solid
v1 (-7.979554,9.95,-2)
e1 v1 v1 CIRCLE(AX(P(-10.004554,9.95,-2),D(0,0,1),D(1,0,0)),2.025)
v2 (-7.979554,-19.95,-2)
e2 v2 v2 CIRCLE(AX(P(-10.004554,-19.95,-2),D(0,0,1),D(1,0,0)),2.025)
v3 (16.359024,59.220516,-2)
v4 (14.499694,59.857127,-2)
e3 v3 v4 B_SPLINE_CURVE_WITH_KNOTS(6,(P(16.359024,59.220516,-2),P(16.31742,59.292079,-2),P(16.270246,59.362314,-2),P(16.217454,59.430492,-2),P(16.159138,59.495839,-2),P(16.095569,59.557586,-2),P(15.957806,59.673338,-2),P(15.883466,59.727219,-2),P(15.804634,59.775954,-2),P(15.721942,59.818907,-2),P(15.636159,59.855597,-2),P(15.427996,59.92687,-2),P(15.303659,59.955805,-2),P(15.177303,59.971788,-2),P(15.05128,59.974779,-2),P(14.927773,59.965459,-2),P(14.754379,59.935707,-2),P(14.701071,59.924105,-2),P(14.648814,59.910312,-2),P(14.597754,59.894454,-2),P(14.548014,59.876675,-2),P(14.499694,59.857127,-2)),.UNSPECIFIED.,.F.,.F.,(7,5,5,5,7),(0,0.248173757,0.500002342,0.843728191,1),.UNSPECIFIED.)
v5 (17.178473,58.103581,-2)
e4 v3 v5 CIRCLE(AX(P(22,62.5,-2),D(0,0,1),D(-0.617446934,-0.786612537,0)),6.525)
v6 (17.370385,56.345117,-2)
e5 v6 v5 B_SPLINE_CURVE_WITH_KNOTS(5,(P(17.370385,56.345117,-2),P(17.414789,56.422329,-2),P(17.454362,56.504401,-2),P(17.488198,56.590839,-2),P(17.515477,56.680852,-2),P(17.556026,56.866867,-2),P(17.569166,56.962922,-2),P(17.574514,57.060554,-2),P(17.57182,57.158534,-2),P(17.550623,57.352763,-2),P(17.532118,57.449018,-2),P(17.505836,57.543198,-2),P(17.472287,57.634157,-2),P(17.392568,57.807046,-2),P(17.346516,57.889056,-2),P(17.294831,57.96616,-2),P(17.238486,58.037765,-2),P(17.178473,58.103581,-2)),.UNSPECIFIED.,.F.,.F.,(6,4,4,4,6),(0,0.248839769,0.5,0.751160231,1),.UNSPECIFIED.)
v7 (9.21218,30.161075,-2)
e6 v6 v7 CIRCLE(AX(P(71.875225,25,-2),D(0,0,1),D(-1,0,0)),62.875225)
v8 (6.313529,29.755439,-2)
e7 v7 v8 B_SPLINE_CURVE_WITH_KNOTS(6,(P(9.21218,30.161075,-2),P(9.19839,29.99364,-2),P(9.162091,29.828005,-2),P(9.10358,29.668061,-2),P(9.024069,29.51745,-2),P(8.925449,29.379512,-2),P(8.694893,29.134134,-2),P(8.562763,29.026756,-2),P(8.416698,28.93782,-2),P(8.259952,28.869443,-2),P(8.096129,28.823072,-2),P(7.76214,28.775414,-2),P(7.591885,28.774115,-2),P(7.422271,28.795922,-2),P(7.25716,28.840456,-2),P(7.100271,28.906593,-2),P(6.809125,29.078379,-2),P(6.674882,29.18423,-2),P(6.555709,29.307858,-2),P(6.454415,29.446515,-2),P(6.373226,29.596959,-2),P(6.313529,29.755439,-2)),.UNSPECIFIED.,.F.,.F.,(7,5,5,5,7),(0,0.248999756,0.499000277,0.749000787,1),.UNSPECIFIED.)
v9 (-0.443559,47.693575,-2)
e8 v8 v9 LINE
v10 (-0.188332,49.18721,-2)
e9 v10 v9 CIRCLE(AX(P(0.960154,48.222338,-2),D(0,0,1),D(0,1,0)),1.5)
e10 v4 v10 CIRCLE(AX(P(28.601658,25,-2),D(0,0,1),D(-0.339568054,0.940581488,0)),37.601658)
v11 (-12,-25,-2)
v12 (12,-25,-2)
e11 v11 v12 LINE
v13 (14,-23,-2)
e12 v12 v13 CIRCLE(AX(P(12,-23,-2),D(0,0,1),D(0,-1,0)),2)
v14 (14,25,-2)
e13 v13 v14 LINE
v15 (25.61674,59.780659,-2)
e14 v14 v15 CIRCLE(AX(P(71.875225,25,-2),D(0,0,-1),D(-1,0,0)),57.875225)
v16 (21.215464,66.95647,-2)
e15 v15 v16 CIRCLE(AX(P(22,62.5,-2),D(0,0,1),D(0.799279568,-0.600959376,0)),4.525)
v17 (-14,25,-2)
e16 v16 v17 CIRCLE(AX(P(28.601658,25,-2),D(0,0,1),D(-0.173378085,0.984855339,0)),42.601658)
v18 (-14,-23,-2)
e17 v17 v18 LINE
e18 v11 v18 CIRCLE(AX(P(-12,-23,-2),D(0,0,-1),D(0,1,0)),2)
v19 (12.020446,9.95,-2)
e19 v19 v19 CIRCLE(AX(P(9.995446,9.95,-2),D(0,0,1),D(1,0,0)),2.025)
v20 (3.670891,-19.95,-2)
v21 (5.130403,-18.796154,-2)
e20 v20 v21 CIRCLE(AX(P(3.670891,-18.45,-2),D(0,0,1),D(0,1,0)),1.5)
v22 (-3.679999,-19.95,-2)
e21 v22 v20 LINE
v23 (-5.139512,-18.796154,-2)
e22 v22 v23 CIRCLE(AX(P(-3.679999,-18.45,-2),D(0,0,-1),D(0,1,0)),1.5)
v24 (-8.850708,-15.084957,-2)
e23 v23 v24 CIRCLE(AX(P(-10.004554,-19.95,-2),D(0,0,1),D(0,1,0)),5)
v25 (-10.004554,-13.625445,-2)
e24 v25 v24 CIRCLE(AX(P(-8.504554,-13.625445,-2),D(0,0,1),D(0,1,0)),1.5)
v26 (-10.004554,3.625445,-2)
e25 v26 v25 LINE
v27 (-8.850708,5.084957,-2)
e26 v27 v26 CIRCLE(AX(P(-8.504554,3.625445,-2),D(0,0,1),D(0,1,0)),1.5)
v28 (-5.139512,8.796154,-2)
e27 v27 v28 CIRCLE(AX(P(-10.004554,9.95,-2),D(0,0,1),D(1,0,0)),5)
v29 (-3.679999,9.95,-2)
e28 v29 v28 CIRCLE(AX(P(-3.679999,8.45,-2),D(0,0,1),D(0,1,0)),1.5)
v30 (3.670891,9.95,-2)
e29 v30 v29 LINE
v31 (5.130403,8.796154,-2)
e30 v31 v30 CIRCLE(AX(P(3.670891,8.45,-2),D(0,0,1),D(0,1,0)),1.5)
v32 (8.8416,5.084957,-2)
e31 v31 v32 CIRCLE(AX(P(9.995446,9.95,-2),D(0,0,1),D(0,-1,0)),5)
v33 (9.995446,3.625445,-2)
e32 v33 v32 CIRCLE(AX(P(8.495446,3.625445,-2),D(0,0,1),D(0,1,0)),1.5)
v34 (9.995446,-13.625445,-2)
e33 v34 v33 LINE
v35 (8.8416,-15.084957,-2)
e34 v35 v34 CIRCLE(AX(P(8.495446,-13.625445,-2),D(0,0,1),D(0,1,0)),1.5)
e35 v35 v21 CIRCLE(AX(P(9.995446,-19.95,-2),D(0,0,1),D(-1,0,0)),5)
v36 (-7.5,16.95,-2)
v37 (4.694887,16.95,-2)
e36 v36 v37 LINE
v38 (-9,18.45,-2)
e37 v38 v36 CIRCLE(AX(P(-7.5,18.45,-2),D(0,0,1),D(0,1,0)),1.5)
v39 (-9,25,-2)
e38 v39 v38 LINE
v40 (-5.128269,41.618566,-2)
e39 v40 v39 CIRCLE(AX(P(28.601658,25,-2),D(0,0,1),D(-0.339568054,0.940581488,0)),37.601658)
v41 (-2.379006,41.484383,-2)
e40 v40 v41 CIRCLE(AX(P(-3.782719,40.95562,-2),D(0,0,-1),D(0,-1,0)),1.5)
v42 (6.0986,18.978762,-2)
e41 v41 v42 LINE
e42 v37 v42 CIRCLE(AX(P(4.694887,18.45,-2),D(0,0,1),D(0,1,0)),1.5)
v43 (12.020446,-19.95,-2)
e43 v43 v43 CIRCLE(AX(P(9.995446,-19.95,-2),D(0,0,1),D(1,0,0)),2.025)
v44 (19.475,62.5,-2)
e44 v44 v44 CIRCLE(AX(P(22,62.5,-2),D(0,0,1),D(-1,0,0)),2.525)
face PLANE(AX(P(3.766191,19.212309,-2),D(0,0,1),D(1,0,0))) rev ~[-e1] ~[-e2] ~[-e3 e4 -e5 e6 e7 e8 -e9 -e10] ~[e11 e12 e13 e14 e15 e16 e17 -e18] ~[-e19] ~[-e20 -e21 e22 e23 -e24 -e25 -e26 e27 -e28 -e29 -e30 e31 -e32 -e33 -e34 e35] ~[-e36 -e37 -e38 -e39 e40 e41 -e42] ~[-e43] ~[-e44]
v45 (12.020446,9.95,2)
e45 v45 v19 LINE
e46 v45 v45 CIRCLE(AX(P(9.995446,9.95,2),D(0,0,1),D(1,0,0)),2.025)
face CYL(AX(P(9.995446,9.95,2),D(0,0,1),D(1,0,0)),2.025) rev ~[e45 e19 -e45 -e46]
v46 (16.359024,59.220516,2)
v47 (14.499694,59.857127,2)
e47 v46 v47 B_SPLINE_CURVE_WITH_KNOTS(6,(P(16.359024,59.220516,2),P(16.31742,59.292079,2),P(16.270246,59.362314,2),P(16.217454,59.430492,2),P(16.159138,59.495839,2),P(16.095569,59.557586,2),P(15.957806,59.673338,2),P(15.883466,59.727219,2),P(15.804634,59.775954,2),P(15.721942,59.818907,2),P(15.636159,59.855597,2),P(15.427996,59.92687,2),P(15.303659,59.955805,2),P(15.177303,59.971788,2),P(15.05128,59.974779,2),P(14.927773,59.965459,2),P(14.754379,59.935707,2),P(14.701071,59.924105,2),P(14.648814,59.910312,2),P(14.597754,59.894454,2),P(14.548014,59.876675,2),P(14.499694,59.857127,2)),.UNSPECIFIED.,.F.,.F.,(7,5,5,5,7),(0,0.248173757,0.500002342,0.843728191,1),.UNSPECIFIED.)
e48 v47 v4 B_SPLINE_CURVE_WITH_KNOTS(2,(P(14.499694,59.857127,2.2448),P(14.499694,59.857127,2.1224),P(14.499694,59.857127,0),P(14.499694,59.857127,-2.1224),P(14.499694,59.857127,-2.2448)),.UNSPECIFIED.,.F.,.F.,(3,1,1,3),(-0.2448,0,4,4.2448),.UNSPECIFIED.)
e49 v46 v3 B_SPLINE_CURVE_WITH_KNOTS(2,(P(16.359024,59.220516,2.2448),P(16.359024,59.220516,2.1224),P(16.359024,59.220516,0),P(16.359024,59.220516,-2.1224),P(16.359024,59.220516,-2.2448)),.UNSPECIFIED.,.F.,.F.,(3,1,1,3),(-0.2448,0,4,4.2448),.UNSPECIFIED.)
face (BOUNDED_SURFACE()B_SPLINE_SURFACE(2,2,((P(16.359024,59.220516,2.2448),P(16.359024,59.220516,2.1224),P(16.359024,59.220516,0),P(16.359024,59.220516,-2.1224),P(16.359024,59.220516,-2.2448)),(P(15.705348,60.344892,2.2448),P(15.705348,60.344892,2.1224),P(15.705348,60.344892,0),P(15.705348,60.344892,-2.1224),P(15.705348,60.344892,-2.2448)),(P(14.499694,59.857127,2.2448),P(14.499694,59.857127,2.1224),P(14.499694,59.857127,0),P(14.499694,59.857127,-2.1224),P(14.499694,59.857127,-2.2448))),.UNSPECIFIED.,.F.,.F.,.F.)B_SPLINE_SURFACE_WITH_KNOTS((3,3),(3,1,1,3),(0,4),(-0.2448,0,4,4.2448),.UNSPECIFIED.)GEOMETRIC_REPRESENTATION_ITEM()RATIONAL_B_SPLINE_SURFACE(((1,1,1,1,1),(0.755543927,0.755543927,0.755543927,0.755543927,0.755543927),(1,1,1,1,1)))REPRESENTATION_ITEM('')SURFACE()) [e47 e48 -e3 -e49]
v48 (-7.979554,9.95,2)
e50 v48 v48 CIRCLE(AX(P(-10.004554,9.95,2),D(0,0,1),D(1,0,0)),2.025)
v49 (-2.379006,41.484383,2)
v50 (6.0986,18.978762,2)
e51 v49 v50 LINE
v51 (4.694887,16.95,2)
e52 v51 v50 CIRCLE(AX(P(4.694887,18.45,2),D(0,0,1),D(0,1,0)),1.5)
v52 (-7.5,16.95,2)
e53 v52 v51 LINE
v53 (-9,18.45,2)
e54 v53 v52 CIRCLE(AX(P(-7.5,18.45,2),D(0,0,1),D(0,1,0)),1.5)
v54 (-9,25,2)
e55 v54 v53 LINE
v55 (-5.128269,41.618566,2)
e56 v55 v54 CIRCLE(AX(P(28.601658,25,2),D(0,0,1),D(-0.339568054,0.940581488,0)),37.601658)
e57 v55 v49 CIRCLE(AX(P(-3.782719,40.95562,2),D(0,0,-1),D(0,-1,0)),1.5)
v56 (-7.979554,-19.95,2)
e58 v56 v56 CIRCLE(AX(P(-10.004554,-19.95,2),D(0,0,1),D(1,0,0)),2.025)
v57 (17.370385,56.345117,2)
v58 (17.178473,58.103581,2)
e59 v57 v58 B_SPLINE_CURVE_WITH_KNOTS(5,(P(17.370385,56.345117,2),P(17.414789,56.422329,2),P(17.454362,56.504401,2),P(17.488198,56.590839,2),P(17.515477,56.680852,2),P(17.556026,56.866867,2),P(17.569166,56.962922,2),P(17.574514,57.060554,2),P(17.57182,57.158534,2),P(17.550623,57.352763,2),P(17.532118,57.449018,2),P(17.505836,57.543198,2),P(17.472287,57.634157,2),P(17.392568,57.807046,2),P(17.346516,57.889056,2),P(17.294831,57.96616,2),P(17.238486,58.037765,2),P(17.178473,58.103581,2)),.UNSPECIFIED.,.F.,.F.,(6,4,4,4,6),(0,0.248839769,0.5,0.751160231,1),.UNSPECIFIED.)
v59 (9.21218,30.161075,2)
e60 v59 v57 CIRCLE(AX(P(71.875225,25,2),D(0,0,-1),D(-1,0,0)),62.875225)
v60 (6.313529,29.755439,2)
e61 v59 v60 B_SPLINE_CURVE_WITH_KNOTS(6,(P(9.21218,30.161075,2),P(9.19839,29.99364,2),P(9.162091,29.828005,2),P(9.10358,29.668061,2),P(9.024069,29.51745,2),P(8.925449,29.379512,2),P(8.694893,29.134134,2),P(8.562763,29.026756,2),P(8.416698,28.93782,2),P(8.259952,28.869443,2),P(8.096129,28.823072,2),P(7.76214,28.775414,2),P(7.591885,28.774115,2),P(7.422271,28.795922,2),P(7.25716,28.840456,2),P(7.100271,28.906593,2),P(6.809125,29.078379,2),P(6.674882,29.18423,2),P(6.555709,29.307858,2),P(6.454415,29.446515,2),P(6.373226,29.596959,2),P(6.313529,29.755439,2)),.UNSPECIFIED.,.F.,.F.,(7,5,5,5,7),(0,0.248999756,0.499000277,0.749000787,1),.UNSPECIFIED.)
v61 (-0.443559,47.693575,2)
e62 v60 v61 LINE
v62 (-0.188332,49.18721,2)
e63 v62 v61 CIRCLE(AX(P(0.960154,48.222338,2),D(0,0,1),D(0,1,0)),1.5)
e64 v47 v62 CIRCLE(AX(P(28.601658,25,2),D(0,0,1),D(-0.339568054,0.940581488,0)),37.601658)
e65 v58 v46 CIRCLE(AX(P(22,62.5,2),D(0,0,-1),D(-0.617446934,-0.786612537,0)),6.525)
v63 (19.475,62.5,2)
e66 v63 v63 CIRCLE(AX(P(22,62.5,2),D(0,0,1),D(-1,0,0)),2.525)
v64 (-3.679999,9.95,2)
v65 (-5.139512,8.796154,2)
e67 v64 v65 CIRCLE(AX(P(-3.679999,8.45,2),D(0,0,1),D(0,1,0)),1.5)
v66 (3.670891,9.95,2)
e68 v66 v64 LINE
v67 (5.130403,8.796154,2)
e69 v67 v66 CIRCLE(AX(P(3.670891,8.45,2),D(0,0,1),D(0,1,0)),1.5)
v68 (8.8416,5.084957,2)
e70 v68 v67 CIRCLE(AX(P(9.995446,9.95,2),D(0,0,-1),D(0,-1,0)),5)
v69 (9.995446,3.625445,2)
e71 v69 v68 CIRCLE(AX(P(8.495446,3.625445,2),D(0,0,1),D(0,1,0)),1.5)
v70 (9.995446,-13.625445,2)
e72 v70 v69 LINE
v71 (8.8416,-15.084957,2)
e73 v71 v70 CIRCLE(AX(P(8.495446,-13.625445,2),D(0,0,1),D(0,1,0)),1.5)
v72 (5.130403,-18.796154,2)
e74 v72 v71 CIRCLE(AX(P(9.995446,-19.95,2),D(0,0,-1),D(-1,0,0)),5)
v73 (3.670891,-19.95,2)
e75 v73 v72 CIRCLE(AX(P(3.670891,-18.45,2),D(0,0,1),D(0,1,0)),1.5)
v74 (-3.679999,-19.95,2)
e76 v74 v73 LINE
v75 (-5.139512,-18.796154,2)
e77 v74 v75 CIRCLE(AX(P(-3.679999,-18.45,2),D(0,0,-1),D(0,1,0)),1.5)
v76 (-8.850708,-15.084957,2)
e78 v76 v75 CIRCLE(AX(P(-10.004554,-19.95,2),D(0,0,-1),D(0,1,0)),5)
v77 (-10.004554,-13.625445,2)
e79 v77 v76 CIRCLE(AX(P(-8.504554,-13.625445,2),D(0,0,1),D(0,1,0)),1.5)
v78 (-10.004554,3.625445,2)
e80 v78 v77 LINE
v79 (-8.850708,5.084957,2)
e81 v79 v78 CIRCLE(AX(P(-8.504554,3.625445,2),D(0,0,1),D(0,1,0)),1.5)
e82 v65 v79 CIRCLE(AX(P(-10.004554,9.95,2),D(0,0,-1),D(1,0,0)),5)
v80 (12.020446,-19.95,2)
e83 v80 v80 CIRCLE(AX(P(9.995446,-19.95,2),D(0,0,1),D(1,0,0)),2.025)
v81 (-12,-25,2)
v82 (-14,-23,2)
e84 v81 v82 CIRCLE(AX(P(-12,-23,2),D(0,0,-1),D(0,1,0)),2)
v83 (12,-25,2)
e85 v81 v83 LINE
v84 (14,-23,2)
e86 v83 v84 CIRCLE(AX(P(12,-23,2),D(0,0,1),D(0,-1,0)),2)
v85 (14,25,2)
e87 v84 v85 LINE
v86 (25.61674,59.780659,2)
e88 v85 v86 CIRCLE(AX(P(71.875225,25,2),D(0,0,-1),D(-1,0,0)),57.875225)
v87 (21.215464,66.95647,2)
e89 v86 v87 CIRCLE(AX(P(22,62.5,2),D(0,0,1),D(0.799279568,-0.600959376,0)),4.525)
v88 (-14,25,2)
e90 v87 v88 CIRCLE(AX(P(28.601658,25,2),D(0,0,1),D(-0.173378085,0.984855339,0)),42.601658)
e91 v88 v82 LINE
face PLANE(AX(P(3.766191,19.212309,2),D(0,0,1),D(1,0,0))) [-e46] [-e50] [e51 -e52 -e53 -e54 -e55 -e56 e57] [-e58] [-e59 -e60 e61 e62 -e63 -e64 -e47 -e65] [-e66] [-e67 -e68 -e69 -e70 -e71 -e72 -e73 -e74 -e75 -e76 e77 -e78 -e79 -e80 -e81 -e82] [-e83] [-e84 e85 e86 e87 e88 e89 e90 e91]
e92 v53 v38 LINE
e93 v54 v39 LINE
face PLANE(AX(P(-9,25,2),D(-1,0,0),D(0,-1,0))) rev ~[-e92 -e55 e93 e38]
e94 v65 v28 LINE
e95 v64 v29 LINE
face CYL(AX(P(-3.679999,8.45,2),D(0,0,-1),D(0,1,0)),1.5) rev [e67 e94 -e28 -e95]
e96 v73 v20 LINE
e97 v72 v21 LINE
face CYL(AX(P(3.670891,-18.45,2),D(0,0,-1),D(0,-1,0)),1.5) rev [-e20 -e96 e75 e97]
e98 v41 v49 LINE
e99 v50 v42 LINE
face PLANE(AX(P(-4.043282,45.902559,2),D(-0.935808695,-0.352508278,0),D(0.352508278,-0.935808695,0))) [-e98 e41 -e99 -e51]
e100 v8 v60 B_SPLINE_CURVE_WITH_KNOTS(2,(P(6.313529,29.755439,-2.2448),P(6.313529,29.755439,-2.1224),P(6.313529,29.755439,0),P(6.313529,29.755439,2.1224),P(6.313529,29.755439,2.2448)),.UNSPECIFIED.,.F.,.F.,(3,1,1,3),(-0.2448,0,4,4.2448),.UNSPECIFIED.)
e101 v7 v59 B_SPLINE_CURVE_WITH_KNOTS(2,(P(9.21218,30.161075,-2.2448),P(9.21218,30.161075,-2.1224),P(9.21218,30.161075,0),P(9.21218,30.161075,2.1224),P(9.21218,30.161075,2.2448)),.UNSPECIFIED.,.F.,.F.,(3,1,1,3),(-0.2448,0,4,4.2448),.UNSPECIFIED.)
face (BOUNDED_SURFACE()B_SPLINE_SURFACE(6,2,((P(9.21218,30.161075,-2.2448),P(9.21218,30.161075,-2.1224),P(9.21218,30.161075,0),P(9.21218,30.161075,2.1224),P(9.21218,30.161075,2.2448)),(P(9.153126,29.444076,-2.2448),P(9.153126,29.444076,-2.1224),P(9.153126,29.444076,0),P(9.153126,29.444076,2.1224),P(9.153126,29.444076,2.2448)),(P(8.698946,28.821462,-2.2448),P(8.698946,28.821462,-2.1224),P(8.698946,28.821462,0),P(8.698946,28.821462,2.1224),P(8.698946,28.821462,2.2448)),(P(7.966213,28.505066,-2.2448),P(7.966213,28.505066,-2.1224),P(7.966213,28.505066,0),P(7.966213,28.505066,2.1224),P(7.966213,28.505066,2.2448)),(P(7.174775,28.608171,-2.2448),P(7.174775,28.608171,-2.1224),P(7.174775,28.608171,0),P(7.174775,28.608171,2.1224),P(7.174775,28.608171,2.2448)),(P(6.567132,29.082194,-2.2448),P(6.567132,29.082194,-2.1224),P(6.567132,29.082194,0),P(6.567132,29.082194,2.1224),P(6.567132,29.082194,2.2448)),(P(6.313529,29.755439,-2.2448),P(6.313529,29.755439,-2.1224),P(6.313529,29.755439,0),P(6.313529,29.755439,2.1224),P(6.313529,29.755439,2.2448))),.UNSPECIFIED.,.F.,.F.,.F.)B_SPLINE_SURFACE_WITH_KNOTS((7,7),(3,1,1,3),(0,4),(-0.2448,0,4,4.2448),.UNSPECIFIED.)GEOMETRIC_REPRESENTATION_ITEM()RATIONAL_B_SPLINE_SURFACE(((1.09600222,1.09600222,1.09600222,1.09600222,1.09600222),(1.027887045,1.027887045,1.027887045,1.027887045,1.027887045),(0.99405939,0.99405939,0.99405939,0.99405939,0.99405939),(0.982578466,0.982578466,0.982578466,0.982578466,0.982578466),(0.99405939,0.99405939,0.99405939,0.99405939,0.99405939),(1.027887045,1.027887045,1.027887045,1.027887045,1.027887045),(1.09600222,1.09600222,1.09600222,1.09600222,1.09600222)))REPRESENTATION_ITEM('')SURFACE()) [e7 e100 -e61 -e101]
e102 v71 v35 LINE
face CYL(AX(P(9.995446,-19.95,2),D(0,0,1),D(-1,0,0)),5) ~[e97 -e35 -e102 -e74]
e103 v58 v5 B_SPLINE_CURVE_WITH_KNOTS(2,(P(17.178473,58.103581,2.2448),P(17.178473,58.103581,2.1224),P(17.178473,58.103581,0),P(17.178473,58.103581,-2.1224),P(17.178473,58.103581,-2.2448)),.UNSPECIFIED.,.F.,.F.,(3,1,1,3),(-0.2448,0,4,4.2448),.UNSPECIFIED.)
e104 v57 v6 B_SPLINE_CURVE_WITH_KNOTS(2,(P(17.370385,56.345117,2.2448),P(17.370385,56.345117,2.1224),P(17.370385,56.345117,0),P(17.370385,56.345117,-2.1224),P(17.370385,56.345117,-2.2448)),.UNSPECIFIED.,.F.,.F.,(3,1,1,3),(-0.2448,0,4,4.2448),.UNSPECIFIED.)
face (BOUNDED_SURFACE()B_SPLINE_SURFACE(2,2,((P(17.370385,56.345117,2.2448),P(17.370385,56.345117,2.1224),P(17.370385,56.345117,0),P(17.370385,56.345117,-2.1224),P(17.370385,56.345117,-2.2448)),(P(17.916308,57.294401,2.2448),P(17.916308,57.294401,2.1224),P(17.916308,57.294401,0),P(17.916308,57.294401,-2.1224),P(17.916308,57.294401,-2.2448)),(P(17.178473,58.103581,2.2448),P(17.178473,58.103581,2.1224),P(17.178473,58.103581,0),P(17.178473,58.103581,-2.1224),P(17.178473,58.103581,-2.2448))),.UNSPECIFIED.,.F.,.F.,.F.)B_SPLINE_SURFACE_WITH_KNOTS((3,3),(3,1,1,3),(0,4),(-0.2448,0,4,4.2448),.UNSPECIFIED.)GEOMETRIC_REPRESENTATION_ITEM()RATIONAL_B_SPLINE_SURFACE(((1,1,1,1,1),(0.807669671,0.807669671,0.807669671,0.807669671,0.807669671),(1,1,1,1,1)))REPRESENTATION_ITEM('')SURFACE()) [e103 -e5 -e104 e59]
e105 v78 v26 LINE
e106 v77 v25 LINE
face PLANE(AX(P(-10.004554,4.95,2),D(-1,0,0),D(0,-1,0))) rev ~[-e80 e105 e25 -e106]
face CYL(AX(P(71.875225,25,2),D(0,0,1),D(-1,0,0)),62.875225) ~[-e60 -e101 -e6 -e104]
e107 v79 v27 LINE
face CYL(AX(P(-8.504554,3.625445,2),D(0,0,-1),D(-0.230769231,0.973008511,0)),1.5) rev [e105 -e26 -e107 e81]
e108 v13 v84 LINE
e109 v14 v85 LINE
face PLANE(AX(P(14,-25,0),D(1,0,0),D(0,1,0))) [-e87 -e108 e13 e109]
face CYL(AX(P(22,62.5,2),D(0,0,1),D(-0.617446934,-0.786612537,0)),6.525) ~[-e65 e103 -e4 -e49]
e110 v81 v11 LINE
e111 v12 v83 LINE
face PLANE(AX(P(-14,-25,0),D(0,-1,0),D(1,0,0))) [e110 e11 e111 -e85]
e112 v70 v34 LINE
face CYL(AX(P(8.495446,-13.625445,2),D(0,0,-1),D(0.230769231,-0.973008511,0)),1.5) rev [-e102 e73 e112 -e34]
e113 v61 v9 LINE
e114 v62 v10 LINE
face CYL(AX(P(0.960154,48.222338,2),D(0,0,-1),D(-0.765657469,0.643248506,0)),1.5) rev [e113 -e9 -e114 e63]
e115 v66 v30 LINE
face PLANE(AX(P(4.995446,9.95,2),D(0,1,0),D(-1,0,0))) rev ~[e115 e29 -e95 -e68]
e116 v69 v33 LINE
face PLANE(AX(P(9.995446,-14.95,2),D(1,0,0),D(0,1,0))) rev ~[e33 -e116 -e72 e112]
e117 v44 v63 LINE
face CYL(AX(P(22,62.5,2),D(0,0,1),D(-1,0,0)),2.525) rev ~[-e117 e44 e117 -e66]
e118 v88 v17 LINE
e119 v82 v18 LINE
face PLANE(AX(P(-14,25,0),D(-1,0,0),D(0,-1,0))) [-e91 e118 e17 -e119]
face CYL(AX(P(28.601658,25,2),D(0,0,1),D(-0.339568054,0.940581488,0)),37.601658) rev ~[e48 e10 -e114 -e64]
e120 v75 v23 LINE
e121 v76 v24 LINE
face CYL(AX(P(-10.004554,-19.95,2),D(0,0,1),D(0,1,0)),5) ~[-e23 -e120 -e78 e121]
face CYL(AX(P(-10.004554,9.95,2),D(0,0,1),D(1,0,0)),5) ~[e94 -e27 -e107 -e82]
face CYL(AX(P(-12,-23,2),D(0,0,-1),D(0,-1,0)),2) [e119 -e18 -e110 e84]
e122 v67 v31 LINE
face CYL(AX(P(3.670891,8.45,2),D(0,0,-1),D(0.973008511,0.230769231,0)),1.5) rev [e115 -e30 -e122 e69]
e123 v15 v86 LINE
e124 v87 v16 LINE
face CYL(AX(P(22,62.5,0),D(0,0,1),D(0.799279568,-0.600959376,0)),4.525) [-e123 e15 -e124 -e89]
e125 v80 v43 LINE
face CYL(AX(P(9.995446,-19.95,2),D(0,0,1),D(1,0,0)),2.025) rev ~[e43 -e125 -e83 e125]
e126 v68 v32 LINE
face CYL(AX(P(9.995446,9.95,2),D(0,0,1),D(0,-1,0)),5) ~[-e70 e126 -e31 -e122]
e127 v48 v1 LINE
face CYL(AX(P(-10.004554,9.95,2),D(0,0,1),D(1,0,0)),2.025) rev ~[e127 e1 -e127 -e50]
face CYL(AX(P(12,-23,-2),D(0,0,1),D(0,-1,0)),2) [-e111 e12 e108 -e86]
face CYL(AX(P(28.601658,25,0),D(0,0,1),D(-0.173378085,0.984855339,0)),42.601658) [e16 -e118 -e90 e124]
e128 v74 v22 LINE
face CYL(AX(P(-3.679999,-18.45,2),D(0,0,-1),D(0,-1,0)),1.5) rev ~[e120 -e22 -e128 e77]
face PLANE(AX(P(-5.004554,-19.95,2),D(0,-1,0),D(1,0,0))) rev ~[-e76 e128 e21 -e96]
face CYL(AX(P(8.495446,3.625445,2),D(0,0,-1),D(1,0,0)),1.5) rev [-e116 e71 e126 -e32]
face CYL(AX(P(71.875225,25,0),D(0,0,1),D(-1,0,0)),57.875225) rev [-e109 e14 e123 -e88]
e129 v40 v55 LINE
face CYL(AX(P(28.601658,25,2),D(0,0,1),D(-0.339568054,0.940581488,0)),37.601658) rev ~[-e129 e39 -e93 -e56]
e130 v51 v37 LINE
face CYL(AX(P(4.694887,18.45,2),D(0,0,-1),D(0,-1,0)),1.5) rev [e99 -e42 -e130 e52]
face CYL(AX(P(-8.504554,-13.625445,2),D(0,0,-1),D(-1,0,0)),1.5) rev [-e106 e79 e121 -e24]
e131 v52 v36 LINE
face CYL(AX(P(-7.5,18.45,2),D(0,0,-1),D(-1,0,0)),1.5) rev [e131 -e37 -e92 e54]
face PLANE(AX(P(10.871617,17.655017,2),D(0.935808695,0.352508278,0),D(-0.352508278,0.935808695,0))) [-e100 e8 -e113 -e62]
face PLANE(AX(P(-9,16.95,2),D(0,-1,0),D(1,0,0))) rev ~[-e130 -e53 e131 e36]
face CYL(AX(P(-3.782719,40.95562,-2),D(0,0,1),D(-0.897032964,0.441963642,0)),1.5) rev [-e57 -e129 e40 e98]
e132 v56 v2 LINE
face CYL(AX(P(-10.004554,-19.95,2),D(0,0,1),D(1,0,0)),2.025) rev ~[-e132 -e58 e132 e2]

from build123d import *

# Parameters (mm, degrees)
SKETCH_1_R          = 1.525
EXTRUDE_1_DEPTH     = 2
FILLET_1_R          = 2
SKETCH_3_R          = 2.525
CUT_EXTRUDE_1_DEPTH = 11
SKETCH_4_R          = 2.025
CUT_EXTRUDE_2_DEPTH = 20
CUT_EXTRUDE_3_DEPTH = 20
FILLET_2_R          = 1.5
CUT_EXTRUDE_4_DEPTH = 10
EXTRUDE_2_DEPTH     = 4
FILLET_3_R          = 1.5


with BuildPart() as part:
    # 草图1 → 凸台-拉伸1 (new, symmetric)
    with BuildSketch(Plane.XY):
        with BuildLine():
            Line((-14, -25), (14, -25))
            Line((14, -25), (14, 25))
            ThreePointArc((14, 25), (16.980954382, 43.334686237), (25.616740047, 59.780658824))
            ThreePointArc((25.616740047, 59.780658824), (25.857254614, 64.865842734), (21.215464165, 66.956470411))
            ThreePointArc((21.215464165, 66.956470411), (-4.029350016, 52.38829278), (-14, 25))
            Line((-14, 25), (-14, -25))
        make_face()
        with Locations((22, 62.5)):
            Circle(SKETCH_1_R, mode=Mode.SUBTRACT)
    extrude(amount=EXTRUDE_1_DEPTH, both=True)

    # 圆角1
    fillet_1_edges = [part.edges().sort_by_distance(p)[0] for p in [
        (14, -25, 0),
        (-14, -25, 0),
    ]]
    fillet(fillet_1_edges, radius=FILLET_1_R)

    # 草图3 → 切除-拉伸1 (cut, symmetric)
    with BuildSketch(Plane.XY.offset(2)):
        with Locations(Location((22, 62.5, 0), (0, 0, 180))):
            Circle(SKETCH_3_R)
    extrude(amount=CUT_EXTRUDE_1_DEPTH, both=True, mode=Mode.SUBTRACT)

    # 草图4 → 切除-拉伸2 (cut)
    with BuildSketch(Plane.XY.offset(2)):
        with Locations((-10.004554112, 9.95)):
            Circle(SKETCH_4_R)
        with Locations((9.995445888, 9.95)):
            Circle(SKETCH_4_R)
        with Locations((9.995445888, -19.95)):
            Circle(SKETCH_4_R)
        with Locations((-10.004554112, -19.95)):
            Circle(SKETCH_4_R)
    extrude(amount=-CUT_EXTRUDE_2_DEPTH, mode=Mode.SUBTRACT)

    # 草图5 → 切除-拉伸3 (cut)
    with BuildSketch(Plane.XY.offset(2)):
        with BuildLine():
            ThreePointArc((-10.004554112, -14.95), (-6.469020206, -16.414466094), (-5.004554112, -19.95))
            Line((-5.004554112, -19.95), (4.995445888, -19.95))
            ThreePointArc((4.995445888, -19.95), (6.459911982, -16.414466094), (9.995445888, -14.95))
            Line((9.995445888, -14.95), (9.995445888, 4.95))
            ThreePointArc((9.995445888, 4.95), (6.459911982, 6.414466094), (4.995445888, 9.95))
            Line((4.995445888, 9.95), (-5.004554112, 9.95))
            ThreePointArc((-5.004554112, 9.95), (-6.469020206, 6.414466094), (-10.004554112, 4.95))
            Line((-10.004554112, 4.95), (-10.004554112, -14.95))
        make_face()
    extrude(amount=-CUT_EXTRUDE_3_DEPTH, mode=Mode.SUBTRACT)

    # 圆角2
    fillet_2_edges = [part.edges().sort_by_distance(p)[0] for p in [
        (9.995445888, -14.95, 0),
        (4.995445888, -19.95, 0),
        (-5.004554112, -19.95, 0),
        (-10.004554112, -14.95, 0),
        (-10.004554112, 4.95, 0),
        (-5.004554112, 9.95, 0),
        (4.995445888, 9.95, 0),
        (9.995445888, 4.95, 0),
    ]]
    fillet(fillet_2_edges, radius=FILLET_2_R)

    # 草图6 → 切除-拉伸4 (cut)
    with BuildSketch(Plane.XY.offset(2)):
        with BuildLine():
            Line((-9, 25), (-9, 16.95))
            Line((-9, 16.95), (9, 16.95))
            Line((9, 16.95), (9, 25))
            ThreePointArc((9, 25), (11.284284207, 41.793802743), (17.971158754, 57.367353196))
            ThreePointArc((17.971158754, 57.367353196), (16.686132643, 58.713386908), (15.833336193, 60.367423509))
            ThreePointArc((15.833336193, 60.367423509), (-2.171664491, 46.607575246), (-9, 25))
        make_face()
    extrude(amount=-CUT_EXTRUDE_4_DEPTH, mode=Mode.SUBTRACT)

    # 草图7 → 凸台-拉伸2 (add)
    with BuildSketch(Plane.XY.offset(2)):
        Polygon((-4.043281882, 45.902558691), (7.128382609, 16.244983445), (10.871617391, 17.655016555), (-0.748810192, 48.503929507), align=None)
    extrude(amount=-EXTRUDE_2_DEPTH)

    # 圆角3
    fillet_3_edges = [part.edges().sort_by_distance(p)[0] for p in [
        (-0.748810192, 48.503929507, 0),
        (15.833336193, 60.367423509, 0),
        (9, 22.623625632, 0),
        (17.971158754, 57.367353196, 0),
        (-3.527808844, 44.534125149, 0),
        (-9, 16.95, 0),
        (6.862811053, 16.95, 0),
    ]]
    fillet(fillet_3_edges, radius=FILLET_3_R)


solid = part.part
